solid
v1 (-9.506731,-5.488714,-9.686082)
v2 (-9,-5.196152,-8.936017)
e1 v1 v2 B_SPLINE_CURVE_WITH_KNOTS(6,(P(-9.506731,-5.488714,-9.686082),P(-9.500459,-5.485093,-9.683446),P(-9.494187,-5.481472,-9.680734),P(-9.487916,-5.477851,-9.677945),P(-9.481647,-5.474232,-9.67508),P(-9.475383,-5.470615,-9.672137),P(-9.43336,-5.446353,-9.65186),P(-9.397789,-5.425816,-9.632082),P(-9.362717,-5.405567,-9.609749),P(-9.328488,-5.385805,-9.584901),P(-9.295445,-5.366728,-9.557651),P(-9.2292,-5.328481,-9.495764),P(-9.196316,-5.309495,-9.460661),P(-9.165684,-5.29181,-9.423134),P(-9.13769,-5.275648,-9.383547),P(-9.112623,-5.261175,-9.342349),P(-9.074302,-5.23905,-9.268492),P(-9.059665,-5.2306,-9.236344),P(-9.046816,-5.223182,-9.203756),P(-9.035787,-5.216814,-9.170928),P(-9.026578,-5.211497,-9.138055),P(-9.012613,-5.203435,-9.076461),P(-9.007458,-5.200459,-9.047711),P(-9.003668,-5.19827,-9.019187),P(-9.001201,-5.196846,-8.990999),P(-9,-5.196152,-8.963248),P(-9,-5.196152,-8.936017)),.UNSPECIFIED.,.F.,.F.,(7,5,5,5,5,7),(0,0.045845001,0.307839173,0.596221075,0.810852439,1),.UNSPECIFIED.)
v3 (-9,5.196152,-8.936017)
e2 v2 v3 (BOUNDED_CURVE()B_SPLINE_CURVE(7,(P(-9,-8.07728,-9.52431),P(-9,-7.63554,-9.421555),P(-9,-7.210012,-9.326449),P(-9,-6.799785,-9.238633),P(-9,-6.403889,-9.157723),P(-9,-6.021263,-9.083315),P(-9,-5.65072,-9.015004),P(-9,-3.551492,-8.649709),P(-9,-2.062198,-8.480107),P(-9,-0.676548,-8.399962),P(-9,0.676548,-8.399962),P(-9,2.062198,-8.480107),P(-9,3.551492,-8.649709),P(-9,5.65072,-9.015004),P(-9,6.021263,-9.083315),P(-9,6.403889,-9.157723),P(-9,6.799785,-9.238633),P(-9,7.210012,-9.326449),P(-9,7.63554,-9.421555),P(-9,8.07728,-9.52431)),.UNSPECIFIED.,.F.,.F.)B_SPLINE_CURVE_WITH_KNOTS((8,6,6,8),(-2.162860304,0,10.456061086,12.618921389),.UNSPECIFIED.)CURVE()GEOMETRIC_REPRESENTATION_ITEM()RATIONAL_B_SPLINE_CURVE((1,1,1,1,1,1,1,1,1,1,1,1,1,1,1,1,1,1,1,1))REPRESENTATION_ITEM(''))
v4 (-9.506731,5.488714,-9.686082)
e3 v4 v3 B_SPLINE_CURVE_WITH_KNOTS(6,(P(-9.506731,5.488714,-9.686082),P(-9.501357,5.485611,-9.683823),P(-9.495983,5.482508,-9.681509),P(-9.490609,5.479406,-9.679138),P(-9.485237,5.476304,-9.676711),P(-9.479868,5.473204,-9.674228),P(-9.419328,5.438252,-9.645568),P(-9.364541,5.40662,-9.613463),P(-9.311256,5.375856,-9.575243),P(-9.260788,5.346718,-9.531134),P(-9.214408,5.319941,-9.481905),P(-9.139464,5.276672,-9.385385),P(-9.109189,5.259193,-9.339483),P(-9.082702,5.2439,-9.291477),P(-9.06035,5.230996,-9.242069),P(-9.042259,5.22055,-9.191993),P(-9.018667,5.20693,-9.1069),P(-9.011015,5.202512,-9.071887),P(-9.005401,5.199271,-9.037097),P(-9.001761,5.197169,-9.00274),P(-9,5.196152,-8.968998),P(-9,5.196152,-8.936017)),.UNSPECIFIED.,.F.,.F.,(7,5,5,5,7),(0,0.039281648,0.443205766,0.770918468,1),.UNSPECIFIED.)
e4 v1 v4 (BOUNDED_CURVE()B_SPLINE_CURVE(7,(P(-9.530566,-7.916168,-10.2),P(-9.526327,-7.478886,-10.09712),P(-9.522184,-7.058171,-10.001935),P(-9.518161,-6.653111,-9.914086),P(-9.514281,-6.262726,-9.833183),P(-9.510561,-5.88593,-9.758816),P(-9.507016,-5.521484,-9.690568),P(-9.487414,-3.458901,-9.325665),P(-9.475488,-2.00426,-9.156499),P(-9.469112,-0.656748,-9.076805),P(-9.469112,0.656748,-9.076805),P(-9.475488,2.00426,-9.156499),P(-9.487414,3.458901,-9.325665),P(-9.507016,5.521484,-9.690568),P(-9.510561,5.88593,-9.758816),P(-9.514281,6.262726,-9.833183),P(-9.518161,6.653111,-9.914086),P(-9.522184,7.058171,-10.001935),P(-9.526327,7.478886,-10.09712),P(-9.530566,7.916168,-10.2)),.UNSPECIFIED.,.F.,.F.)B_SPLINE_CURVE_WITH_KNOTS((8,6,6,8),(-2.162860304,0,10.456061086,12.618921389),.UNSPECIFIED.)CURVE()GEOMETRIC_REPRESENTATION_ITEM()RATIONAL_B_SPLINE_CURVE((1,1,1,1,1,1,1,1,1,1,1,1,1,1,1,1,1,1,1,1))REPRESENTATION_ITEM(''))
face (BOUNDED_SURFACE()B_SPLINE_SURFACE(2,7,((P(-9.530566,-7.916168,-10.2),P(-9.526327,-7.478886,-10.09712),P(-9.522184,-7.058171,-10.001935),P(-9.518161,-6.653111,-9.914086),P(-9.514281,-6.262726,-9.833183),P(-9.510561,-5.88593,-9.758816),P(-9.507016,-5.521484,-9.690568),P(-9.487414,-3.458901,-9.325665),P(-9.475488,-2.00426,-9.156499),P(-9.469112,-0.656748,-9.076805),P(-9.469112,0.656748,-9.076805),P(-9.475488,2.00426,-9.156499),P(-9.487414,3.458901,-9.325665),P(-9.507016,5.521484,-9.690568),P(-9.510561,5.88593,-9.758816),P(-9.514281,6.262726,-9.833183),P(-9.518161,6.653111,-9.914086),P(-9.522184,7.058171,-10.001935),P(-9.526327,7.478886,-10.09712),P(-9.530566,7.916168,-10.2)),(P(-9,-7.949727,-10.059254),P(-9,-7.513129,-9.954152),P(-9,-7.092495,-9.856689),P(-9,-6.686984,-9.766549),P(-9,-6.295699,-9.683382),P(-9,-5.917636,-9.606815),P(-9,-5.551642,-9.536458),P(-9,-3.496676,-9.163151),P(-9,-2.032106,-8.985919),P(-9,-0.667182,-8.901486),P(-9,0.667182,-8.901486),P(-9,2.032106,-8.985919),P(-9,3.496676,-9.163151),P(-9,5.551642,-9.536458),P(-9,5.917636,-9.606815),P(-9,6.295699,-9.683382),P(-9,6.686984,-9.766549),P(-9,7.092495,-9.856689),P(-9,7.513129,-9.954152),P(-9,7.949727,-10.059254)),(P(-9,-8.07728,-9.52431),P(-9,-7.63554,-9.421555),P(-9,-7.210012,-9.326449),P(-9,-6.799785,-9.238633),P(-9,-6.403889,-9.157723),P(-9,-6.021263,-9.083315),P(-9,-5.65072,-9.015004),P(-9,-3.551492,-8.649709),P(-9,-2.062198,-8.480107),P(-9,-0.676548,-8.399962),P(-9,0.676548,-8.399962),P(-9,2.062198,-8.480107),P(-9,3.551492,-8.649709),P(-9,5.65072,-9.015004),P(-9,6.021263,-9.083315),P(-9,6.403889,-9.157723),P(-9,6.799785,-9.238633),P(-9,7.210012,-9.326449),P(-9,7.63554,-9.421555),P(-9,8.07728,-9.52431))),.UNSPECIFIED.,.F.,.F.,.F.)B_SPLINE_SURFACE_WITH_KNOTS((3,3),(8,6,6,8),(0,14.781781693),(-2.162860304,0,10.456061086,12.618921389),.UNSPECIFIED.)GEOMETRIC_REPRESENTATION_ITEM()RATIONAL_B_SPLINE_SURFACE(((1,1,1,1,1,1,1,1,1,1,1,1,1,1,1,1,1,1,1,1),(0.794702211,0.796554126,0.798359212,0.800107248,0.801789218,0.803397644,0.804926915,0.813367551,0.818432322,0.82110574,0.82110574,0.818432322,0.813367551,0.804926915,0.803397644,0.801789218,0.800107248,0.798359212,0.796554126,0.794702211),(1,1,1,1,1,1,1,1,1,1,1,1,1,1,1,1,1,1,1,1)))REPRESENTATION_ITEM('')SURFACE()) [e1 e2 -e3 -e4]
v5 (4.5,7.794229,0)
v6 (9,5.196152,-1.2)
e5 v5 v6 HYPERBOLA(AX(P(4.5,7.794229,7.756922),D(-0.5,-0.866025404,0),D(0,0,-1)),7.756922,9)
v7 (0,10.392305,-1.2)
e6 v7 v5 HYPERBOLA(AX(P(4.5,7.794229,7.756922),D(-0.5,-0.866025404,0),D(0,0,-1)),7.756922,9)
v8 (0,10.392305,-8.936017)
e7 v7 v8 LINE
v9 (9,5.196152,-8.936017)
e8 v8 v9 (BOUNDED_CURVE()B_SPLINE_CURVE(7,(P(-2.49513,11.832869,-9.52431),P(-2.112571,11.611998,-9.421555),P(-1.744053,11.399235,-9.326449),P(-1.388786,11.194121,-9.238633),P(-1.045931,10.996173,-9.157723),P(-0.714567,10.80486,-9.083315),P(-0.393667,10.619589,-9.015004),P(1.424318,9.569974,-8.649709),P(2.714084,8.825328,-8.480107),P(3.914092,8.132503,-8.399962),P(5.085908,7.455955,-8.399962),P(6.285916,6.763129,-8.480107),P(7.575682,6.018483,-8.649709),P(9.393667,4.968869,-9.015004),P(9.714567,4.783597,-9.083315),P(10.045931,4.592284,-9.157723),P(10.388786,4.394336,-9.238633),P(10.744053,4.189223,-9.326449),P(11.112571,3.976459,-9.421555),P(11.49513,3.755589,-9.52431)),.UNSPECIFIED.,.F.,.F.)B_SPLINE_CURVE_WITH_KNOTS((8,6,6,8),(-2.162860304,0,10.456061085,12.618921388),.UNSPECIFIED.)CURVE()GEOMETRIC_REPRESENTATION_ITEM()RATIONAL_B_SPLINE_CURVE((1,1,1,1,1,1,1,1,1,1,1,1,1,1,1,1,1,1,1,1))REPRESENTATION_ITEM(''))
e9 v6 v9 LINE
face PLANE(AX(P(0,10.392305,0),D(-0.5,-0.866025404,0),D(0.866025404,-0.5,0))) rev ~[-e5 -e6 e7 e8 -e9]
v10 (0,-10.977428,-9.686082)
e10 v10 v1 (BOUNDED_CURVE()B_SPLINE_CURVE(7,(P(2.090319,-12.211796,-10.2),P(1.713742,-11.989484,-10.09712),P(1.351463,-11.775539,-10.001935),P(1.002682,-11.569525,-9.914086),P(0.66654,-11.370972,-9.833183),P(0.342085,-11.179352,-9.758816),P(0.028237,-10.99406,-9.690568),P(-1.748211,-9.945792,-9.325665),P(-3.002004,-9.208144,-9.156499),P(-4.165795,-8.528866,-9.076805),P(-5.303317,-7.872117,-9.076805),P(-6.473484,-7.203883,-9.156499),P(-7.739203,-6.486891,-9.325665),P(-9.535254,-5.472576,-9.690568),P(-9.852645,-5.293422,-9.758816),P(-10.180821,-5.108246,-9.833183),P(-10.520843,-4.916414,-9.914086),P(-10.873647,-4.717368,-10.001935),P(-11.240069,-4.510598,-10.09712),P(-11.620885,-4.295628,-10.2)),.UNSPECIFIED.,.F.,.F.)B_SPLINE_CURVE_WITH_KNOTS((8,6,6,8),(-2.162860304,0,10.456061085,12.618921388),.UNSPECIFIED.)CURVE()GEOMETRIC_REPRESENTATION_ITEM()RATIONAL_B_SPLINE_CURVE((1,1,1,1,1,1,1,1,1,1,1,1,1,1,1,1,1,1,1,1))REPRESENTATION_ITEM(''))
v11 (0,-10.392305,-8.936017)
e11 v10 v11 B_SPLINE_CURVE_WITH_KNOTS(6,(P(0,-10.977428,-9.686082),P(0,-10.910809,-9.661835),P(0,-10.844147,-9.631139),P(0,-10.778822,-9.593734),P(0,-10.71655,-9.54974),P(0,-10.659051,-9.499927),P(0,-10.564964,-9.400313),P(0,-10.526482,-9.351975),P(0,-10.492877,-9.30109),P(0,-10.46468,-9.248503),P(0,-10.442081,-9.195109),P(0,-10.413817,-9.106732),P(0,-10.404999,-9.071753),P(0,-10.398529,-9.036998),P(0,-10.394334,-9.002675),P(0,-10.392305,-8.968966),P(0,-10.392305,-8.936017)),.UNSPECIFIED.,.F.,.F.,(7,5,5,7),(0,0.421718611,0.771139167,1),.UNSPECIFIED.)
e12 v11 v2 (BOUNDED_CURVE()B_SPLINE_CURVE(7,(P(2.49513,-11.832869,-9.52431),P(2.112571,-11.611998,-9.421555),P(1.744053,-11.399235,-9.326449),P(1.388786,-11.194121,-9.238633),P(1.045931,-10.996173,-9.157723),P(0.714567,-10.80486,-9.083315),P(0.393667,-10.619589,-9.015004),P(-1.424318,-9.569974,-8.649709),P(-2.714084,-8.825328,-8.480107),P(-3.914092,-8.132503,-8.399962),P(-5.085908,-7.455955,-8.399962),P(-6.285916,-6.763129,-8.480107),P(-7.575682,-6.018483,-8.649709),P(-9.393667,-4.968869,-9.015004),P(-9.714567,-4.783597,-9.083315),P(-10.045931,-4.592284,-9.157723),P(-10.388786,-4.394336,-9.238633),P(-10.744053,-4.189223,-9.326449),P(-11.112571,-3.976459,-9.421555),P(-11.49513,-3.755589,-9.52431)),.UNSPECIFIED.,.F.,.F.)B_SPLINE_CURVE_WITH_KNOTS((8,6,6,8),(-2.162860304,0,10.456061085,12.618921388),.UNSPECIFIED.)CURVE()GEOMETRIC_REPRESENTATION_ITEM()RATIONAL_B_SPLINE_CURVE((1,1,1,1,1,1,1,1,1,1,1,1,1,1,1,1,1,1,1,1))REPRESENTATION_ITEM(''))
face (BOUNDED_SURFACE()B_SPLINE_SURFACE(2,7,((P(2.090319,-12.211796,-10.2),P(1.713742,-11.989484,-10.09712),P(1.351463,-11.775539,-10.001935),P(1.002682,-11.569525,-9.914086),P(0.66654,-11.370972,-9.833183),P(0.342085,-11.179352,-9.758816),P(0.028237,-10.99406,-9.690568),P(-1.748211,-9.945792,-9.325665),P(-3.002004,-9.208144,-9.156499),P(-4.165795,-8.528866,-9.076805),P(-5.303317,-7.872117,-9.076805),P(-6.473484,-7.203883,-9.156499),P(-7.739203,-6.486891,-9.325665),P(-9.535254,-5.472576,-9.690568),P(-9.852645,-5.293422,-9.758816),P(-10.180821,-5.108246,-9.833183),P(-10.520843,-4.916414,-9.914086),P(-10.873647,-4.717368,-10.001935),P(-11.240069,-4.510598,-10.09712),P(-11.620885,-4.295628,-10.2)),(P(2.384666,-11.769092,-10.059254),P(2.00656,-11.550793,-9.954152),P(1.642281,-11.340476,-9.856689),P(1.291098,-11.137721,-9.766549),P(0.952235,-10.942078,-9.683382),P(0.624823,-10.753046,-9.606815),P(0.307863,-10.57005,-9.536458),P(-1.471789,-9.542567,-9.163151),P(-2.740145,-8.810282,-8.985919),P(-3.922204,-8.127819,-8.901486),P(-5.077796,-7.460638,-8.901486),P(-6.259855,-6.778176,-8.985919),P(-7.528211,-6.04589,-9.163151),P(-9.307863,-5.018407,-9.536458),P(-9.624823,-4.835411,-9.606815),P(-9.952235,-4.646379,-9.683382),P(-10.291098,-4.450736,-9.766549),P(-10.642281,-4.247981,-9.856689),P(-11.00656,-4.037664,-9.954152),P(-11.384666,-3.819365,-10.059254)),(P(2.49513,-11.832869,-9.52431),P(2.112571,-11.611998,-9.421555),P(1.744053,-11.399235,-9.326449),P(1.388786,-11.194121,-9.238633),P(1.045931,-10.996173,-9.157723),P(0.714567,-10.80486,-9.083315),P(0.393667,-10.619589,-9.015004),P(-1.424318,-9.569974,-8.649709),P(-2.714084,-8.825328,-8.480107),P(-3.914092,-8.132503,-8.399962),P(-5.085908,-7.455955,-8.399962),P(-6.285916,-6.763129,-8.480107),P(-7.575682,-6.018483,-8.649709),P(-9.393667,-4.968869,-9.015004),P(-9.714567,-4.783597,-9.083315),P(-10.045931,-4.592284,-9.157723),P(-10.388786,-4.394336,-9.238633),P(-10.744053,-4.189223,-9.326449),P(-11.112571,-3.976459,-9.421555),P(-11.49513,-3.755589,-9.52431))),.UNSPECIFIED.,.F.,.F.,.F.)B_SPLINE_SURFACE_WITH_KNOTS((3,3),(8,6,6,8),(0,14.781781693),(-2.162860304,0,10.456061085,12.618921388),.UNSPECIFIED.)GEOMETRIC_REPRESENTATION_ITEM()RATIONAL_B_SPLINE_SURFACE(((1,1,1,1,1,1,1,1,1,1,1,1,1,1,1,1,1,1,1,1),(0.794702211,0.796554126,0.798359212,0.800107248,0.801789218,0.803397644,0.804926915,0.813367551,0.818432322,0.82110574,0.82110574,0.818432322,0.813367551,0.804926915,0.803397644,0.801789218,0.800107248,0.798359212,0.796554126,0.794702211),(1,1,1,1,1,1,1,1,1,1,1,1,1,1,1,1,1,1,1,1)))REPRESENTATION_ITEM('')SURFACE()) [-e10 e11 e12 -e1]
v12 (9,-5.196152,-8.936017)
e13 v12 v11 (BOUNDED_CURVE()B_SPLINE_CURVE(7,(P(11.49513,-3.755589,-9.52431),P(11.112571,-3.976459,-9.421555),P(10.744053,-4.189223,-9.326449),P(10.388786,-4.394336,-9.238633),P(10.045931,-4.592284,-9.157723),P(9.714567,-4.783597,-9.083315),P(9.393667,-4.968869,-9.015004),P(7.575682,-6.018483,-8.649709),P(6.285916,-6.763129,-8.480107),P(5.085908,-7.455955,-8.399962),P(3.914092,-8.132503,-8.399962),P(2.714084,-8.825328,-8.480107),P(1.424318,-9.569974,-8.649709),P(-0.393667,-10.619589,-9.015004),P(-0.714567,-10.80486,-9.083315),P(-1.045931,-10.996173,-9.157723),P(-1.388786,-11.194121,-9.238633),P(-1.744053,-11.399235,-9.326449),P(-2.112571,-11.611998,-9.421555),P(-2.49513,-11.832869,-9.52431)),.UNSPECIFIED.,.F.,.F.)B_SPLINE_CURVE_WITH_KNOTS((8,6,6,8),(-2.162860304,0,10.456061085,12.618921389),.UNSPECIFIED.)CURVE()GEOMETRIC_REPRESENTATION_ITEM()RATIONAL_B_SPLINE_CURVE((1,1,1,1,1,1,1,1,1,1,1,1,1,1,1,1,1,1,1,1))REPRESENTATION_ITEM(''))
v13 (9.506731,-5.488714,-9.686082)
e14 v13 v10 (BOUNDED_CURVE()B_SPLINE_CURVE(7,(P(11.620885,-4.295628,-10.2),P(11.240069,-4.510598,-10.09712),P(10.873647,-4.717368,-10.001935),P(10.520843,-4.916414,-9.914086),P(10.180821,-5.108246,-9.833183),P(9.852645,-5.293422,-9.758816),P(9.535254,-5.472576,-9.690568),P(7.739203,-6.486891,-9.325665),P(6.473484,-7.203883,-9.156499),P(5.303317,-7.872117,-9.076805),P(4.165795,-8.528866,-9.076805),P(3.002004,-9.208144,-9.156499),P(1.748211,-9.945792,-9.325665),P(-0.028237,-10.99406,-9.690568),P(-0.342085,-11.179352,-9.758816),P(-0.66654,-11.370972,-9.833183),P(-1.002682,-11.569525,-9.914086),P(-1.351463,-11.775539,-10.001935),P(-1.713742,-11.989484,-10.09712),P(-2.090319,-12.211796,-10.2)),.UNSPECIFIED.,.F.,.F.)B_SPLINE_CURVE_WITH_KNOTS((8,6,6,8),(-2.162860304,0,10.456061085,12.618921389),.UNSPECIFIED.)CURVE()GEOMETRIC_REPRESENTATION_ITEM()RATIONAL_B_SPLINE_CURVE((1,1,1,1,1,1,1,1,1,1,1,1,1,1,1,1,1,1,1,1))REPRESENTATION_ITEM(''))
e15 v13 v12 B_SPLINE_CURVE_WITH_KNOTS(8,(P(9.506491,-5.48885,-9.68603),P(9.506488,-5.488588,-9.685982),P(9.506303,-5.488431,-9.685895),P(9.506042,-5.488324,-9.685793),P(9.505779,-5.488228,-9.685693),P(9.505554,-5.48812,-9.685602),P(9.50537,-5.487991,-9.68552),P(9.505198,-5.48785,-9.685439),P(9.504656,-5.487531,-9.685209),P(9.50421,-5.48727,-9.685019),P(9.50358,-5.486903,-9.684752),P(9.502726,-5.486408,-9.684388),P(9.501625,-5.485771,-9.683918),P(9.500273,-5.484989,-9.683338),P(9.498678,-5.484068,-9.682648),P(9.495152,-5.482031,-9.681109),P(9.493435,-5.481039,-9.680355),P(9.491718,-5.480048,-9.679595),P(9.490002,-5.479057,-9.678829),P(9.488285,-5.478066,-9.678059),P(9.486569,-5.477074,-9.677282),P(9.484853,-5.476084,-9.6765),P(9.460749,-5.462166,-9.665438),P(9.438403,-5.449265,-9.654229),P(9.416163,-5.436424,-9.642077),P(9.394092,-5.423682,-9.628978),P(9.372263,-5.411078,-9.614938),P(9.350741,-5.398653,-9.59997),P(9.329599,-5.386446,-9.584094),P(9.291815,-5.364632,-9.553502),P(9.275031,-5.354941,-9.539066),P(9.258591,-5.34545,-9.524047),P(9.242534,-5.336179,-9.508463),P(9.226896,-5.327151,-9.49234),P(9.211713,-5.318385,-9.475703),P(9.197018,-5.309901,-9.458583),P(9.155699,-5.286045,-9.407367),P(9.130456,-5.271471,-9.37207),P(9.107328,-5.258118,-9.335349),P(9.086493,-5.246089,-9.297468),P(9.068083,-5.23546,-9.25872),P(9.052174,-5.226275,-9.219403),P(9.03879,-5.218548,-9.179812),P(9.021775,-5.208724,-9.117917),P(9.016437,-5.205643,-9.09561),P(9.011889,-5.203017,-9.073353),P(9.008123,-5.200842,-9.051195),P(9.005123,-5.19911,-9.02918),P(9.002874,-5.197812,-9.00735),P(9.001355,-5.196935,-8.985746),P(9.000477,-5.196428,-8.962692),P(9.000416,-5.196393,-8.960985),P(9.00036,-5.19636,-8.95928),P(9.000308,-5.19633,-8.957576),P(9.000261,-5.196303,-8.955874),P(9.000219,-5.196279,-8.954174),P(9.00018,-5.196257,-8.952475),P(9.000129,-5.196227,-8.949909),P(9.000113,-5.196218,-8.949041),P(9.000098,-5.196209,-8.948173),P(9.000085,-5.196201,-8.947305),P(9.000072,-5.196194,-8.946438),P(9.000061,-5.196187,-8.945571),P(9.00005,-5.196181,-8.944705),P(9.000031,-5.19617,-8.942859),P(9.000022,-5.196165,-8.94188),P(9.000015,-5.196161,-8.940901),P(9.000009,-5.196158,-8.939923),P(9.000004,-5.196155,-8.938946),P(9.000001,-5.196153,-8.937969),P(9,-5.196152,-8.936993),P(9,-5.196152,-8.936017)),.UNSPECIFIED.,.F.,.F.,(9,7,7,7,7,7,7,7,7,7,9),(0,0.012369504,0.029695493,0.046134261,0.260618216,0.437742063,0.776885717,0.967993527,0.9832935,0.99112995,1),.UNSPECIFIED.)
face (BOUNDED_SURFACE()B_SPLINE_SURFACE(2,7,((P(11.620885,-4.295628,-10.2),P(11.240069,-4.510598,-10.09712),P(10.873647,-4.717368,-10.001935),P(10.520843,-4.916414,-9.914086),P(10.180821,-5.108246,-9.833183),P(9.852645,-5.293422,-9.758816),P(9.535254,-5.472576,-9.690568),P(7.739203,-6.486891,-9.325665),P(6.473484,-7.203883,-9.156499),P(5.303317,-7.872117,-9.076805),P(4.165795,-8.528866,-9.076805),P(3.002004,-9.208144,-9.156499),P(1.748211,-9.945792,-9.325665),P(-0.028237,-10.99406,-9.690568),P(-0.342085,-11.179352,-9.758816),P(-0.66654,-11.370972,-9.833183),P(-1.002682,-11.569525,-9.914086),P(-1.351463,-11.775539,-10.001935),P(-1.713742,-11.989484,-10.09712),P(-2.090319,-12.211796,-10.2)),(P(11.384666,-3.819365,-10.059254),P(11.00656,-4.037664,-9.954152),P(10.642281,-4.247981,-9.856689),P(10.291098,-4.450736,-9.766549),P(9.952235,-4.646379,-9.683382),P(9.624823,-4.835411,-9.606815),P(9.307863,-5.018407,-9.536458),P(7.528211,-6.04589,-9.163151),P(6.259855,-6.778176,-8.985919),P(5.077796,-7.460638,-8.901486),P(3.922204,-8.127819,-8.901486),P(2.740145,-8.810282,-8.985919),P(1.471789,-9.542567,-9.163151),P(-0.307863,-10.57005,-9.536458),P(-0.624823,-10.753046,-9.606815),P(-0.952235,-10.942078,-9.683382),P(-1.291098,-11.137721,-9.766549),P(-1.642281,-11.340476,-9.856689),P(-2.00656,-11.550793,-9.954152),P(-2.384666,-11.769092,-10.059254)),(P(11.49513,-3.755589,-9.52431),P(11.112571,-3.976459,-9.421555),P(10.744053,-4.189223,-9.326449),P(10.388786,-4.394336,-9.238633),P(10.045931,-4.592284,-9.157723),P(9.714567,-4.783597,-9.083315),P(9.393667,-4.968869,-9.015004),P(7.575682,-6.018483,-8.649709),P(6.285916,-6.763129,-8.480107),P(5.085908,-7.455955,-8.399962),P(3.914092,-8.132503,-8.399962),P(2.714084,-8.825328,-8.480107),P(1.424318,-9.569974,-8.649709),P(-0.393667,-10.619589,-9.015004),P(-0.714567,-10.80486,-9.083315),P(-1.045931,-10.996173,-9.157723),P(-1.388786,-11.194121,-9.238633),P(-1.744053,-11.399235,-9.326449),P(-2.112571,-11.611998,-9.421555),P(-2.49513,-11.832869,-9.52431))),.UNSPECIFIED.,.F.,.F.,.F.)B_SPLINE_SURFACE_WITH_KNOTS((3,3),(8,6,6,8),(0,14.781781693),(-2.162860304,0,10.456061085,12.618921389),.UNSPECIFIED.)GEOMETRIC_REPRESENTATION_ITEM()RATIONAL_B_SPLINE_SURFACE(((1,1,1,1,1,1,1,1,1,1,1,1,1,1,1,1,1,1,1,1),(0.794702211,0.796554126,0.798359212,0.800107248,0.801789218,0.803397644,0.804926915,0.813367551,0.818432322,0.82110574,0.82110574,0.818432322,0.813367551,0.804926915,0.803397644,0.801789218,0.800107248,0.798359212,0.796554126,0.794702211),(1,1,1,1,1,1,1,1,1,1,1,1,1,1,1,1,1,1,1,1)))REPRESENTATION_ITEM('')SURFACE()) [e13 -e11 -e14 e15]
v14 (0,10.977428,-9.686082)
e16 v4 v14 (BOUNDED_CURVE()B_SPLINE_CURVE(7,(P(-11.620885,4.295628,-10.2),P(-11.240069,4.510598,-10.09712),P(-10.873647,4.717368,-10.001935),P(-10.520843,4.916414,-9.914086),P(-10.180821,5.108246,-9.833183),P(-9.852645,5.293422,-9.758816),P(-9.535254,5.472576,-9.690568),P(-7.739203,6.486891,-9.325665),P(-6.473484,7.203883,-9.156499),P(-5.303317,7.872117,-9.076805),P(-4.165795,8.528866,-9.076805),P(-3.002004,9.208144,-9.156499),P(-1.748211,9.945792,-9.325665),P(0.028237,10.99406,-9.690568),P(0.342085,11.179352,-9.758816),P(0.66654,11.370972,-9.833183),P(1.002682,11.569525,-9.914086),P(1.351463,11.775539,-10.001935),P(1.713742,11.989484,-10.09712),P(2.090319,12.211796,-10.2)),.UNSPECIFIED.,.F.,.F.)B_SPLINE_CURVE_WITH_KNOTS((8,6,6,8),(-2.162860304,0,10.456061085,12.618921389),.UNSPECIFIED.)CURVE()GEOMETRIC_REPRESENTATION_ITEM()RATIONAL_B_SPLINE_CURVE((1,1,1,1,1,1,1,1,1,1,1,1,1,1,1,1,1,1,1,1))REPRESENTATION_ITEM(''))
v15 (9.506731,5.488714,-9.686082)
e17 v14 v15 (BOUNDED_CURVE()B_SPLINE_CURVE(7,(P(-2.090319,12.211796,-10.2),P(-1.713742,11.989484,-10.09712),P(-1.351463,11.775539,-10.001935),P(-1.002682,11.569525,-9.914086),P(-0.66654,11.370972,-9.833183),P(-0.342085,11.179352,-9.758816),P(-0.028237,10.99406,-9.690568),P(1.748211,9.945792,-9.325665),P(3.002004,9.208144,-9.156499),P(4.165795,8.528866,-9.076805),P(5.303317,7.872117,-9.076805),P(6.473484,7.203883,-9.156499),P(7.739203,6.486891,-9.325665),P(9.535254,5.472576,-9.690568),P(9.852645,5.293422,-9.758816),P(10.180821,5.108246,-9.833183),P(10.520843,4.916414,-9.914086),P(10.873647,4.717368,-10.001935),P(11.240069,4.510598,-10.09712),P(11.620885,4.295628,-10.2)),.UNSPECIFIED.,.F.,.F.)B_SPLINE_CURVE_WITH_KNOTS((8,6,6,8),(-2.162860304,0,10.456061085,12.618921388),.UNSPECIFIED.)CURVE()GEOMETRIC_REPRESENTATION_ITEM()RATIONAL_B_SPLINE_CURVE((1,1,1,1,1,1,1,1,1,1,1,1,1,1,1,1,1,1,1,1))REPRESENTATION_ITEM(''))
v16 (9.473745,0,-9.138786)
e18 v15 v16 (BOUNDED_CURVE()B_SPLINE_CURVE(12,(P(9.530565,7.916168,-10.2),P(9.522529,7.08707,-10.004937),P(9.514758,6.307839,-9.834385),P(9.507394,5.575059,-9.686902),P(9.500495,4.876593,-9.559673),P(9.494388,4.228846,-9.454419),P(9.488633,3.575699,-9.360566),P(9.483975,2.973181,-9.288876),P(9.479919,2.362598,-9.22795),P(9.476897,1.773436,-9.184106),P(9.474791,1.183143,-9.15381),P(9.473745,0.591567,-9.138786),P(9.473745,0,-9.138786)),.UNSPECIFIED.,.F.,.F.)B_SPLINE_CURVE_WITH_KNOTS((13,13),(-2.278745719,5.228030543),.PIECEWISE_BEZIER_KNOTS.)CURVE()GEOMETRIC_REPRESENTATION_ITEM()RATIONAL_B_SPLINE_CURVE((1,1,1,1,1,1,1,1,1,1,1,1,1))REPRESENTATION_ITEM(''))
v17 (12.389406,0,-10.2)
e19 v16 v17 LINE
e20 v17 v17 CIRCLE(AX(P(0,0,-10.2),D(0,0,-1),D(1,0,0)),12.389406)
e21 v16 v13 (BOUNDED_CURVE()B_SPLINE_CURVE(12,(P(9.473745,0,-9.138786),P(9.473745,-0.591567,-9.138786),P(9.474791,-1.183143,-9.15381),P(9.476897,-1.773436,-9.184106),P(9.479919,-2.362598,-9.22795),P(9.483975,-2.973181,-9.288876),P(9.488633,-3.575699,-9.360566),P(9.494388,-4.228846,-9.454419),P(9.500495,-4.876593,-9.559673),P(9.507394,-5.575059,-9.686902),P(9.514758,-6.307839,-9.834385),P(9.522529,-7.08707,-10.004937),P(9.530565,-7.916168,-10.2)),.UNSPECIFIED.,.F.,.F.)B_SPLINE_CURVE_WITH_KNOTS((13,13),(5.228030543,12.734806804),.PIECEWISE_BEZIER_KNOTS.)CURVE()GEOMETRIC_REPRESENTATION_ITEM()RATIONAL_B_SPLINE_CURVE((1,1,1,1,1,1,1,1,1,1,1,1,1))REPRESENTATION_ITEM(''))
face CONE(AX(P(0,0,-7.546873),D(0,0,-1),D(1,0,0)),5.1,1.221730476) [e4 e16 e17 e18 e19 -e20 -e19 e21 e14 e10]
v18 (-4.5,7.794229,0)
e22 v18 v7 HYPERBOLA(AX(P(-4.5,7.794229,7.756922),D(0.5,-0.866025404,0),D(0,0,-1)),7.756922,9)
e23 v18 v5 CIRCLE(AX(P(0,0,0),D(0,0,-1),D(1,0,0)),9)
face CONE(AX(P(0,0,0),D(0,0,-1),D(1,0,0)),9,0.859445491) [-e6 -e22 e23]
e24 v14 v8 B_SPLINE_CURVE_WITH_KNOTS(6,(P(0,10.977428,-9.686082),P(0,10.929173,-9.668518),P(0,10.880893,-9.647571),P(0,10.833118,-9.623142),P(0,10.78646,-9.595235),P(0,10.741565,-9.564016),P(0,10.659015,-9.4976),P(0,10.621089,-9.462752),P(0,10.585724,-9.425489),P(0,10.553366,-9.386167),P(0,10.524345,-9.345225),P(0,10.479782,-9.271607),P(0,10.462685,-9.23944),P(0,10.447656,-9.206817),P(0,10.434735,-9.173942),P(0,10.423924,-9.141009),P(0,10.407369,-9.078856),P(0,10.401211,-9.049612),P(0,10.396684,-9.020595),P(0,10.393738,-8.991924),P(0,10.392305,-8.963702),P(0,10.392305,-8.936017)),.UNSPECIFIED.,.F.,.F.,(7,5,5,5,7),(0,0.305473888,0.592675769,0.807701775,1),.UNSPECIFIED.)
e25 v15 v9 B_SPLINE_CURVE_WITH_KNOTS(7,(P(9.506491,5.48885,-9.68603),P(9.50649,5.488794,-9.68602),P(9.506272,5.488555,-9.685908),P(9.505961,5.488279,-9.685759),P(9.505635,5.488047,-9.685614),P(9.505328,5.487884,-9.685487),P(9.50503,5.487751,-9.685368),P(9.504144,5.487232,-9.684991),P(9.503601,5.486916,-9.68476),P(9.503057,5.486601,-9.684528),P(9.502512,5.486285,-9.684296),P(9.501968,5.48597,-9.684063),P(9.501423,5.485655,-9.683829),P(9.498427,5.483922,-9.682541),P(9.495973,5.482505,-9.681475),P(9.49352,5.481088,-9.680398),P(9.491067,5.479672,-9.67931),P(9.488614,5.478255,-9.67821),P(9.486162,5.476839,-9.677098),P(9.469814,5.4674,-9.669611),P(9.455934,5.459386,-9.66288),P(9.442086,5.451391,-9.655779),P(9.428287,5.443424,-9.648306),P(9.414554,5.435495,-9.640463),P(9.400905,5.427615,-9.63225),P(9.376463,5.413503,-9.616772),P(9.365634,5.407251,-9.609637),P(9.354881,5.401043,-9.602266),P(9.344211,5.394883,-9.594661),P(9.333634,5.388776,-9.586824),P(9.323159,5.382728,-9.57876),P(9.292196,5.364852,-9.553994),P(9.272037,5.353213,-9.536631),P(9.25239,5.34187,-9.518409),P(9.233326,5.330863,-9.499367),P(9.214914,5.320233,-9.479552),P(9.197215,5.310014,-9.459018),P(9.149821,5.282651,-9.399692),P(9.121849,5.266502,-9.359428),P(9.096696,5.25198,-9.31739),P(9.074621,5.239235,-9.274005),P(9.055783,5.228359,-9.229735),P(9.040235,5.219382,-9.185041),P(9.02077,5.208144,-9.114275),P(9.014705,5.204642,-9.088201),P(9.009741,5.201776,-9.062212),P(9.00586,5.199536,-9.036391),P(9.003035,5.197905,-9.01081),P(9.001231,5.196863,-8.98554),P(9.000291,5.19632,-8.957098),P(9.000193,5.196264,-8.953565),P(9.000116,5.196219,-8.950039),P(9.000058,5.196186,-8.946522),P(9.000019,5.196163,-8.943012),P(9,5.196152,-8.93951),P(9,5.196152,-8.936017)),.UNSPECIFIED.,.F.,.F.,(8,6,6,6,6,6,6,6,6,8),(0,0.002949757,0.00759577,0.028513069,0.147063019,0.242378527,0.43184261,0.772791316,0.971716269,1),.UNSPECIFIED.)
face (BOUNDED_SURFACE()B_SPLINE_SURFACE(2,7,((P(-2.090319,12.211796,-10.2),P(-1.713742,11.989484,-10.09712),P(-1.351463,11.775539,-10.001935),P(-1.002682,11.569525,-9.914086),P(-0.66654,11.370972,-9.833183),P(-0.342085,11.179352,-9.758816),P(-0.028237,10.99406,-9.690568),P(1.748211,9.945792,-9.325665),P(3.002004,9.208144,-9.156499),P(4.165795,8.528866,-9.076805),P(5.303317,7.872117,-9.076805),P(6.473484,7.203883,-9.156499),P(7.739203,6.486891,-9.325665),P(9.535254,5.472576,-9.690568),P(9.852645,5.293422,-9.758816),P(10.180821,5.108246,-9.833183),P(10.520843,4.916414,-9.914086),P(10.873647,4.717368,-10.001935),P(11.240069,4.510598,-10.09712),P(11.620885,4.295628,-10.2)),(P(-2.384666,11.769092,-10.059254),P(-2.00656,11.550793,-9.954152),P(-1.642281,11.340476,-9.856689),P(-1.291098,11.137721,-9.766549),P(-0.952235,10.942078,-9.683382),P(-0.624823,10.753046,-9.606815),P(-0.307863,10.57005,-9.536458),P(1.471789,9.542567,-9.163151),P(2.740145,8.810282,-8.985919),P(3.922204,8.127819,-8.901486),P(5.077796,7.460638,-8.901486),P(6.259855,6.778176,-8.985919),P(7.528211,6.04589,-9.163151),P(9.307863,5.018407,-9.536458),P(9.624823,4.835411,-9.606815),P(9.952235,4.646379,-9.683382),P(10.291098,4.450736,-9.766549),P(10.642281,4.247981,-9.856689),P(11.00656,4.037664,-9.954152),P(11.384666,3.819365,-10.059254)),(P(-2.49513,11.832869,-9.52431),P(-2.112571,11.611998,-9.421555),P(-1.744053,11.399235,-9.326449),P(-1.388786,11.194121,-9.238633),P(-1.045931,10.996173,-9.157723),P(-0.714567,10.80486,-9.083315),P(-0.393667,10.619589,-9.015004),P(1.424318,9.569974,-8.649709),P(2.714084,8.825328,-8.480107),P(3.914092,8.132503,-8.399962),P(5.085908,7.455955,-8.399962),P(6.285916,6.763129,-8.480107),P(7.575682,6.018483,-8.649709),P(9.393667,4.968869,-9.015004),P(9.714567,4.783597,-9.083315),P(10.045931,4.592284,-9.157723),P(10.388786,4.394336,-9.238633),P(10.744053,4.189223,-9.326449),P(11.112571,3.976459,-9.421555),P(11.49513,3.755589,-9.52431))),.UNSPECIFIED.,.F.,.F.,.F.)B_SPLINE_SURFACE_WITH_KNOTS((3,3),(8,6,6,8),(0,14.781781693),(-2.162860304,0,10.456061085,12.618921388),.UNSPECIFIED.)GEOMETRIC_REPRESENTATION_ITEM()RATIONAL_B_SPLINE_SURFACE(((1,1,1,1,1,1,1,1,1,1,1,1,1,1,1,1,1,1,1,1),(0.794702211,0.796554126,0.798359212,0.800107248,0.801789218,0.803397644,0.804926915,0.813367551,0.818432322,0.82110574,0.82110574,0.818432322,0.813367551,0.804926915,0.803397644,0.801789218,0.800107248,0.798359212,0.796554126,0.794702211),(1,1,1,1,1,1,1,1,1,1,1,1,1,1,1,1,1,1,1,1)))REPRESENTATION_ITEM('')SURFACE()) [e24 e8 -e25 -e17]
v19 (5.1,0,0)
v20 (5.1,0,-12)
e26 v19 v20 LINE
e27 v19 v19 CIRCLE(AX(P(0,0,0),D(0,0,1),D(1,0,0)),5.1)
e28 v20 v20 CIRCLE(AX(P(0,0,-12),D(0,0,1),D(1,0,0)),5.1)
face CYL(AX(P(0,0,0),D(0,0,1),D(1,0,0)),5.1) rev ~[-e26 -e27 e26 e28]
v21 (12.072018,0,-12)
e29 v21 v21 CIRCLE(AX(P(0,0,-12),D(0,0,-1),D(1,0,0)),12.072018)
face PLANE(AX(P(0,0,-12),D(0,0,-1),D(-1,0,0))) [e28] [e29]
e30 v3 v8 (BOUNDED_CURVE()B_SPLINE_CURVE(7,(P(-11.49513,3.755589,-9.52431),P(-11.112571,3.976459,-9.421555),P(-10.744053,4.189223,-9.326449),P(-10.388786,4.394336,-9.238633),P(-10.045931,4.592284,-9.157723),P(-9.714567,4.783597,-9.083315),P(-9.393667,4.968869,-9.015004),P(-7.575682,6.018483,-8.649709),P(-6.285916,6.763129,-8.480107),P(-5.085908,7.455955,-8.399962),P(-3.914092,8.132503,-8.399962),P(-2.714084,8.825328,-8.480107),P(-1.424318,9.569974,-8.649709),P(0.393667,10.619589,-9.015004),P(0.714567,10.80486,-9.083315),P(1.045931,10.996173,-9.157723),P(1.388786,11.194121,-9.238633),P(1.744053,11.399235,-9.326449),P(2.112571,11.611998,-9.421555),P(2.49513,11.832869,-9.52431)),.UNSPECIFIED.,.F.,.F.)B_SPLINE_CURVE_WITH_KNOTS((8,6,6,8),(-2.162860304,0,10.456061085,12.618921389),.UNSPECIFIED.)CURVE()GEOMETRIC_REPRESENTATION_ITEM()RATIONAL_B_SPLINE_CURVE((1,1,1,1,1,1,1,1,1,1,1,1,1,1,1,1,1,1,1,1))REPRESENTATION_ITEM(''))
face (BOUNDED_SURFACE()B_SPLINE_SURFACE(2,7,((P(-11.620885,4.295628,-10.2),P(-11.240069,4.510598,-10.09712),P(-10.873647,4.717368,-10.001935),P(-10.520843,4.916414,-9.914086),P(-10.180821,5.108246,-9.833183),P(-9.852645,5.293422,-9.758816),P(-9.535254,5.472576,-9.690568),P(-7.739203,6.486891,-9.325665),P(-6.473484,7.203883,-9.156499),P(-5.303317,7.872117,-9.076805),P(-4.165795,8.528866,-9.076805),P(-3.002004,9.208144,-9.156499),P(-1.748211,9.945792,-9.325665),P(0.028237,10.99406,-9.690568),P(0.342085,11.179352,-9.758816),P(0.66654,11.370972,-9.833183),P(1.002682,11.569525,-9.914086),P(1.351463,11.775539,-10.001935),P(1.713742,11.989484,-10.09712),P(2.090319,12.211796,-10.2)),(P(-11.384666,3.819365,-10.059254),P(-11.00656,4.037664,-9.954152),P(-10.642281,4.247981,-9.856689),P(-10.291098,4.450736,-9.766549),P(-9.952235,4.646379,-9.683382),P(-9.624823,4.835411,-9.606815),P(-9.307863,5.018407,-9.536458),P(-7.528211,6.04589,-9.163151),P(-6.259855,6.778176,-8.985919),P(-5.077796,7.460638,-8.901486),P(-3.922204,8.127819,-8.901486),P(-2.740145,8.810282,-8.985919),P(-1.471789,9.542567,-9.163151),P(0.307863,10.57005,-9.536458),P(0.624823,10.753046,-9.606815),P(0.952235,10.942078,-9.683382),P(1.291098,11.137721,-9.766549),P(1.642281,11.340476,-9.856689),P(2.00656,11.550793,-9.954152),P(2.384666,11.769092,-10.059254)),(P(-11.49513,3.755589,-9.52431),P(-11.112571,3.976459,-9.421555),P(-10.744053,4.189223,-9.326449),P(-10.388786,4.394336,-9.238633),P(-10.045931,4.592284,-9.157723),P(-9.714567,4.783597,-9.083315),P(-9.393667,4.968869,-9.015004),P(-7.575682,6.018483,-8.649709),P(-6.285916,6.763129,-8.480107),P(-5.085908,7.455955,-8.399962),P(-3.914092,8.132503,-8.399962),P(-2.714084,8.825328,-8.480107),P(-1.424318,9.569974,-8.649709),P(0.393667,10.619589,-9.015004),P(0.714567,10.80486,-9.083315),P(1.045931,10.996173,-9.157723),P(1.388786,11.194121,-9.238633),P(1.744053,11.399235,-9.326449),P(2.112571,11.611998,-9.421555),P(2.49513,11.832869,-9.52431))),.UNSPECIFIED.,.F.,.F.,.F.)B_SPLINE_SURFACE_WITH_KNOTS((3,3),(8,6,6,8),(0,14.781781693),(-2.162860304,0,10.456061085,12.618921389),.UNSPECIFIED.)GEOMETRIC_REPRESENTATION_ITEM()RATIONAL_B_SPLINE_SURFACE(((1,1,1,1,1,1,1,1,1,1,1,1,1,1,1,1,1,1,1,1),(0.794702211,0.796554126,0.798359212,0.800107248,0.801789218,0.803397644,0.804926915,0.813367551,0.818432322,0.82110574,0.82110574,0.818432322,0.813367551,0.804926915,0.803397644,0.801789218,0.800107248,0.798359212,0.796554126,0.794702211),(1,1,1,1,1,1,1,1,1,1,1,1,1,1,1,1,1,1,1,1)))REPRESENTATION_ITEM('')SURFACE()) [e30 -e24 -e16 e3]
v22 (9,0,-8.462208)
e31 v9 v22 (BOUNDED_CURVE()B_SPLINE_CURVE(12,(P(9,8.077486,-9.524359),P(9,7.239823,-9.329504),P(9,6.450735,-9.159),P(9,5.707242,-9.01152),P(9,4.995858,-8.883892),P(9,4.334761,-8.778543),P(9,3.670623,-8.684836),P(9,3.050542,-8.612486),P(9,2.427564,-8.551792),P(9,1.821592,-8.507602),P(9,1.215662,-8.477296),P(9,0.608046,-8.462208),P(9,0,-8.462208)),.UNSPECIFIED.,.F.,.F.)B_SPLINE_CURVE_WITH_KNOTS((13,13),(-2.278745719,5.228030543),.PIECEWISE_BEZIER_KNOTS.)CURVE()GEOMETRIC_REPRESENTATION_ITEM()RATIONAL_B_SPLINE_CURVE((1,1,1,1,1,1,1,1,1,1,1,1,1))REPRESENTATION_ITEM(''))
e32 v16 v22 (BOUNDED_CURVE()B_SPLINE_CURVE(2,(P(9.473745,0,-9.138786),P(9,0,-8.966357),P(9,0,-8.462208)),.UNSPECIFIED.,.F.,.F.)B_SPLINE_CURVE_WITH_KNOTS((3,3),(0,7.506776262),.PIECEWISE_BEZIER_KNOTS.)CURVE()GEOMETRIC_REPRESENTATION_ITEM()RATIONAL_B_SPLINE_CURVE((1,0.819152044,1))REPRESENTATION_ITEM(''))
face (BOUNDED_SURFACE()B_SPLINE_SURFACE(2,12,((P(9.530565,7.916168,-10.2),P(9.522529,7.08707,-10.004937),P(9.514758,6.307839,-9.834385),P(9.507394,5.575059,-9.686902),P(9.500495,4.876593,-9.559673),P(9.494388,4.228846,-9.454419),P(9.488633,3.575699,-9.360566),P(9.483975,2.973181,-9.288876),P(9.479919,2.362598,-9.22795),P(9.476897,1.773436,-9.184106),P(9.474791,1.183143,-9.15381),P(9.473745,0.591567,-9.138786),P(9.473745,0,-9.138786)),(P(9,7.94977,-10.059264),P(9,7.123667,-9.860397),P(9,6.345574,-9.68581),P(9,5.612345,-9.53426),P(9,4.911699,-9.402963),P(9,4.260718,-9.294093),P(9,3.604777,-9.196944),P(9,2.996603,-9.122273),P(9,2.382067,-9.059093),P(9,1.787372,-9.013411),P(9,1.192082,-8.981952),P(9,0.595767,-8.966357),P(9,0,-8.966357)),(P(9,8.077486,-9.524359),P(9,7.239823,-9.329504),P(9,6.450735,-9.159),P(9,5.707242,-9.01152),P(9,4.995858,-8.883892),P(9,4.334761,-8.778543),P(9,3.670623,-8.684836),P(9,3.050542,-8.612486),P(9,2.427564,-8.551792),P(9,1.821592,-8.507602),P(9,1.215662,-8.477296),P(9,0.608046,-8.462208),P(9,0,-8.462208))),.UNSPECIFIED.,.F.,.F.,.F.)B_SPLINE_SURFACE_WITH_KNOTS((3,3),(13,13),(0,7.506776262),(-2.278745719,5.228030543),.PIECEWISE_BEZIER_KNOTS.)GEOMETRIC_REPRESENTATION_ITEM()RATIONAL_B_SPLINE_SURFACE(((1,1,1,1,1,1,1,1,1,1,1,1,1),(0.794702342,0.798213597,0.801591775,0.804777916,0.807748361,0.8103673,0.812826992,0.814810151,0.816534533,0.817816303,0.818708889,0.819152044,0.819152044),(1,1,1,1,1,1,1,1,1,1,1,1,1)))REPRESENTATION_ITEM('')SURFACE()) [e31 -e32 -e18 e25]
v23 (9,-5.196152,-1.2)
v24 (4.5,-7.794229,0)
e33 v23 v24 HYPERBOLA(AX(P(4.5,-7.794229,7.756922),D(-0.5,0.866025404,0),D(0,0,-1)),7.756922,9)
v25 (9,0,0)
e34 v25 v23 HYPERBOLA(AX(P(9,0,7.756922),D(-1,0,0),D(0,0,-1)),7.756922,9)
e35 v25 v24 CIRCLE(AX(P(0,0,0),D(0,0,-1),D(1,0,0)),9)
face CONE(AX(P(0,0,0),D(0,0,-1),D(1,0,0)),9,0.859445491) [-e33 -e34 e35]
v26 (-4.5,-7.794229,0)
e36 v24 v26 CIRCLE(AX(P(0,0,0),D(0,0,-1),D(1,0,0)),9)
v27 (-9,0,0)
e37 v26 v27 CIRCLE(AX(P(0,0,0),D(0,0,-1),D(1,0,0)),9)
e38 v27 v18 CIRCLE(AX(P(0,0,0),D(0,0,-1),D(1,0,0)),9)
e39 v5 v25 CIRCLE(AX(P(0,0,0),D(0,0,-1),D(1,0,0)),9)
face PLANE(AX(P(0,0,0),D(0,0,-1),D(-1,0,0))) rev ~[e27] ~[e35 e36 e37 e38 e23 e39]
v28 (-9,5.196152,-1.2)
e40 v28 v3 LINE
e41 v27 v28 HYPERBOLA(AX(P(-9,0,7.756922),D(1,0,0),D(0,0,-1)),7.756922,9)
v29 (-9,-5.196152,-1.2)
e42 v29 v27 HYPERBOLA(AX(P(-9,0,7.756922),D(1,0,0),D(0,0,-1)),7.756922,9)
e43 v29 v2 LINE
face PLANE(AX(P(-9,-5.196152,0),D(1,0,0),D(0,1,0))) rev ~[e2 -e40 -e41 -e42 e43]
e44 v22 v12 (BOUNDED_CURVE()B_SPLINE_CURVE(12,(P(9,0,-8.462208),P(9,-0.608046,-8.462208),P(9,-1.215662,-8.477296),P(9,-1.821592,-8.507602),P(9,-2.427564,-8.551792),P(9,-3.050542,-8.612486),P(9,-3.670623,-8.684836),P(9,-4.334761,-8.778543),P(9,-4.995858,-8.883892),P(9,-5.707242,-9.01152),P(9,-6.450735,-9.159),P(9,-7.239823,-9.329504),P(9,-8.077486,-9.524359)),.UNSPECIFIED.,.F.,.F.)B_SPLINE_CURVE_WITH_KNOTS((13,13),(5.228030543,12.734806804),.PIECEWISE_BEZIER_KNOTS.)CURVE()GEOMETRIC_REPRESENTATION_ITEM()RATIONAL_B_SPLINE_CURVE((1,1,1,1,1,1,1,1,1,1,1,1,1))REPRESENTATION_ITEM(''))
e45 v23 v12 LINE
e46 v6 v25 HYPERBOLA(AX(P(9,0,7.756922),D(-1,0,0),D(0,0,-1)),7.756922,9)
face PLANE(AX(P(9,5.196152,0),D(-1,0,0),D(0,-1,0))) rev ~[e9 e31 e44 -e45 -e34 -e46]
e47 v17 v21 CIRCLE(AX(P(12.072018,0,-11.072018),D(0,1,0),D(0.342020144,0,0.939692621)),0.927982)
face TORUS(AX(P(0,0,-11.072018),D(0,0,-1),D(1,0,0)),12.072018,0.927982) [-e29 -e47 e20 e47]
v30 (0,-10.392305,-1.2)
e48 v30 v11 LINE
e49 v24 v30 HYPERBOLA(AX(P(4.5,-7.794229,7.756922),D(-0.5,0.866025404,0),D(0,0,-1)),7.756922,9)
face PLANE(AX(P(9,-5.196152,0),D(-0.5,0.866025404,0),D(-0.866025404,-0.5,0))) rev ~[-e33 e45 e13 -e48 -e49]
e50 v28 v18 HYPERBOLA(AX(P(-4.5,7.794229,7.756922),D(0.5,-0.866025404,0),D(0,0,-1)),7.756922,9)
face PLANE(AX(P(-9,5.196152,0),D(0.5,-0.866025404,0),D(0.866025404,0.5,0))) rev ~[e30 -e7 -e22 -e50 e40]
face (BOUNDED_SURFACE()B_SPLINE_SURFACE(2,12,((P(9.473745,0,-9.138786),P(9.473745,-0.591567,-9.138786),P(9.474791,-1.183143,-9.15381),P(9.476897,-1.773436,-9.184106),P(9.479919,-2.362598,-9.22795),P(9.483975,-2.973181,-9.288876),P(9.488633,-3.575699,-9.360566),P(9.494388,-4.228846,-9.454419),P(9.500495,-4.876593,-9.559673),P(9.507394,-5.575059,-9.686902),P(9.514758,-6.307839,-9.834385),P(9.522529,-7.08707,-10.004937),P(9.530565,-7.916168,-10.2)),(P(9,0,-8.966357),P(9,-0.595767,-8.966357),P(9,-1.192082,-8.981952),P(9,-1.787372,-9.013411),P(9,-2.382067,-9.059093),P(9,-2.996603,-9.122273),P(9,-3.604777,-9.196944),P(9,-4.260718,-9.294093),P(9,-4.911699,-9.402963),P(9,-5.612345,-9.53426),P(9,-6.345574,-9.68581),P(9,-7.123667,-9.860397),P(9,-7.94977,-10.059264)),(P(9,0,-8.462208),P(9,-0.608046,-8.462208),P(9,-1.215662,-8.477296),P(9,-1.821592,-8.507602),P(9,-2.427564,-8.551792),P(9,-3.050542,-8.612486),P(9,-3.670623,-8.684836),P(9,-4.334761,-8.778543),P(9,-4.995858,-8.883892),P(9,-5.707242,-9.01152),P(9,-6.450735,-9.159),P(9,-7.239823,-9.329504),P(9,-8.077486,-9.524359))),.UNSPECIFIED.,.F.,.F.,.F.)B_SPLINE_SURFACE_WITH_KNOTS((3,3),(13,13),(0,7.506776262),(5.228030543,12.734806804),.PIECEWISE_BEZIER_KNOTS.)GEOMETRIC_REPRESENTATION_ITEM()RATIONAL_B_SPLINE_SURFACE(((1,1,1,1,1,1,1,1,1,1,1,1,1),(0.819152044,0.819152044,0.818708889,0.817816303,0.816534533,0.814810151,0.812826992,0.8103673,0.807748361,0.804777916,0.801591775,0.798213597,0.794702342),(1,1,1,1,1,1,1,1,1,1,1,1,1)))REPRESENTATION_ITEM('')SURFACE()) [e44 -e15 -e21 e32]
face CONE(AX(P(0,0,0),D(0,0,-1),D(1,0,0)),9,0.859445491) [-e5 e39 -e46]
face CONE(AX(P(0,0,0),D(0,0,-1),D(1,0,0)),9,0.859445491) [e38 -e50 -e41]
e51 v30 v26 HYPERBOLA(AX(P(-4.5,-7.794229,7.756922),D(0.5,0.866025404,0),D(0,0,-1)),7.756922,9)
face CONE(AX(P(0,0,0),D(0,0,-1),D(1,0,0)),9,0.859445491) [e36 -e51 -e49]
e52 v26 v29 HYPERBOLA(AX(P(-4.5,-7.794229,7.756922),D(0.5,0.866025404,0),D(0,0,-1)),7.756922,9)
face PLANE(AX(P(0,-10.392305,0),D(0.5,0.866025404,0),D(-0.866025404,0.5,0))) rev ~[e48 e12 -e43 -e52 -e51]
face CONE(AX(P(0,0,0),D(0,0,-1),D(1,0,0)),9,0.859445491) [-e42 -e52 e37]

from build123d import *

# Parameters (mm, degrees)
BASENUTSKE_R   = 5.1
BASENUT_DEPTH  = 12
FLANGEFILLET_R = 0.72


with BuildPart() as part:
    # BaseNutSke → BaseNut (new body)
    with BuildSketch(Plane.XY):
        Polygon((9, 5.196152423), (9, -5.196152423), (0, -10.392304845), (-9, -5.196152423), (-9, 5.196152423), (0, 10.392304845), align=None)
        Circle(BASENUTSKE_R, mode=Mode.SUBTRACT)
    extrude(amount=-BASENUT_DEPTH)

    # Sketch6 → Flange (revolve)
    with BuildSketch(Plane(origin=(0, 0, 0), x_dir=(0, 0, -1), z_dir=(1, 0, 0)), mode=Mode.PRIVATE) as flange_sk:
        with BuildLine():
            Line((7.546873015, 5.1), (10.2, 12.389406482))
            ThreePointArc((10.2, 12.389406482), (11.233160314, 12.985901867), (12, 12.072017916))
            Line((12, 12.072017916), (12, 5.1))
            Line((12, 5.1), (7.546873015, 5.1))
        make_face()
    revolve(flange_sk.sketch.rotate(Axis((0, 0, 0), (0, 0, -1)), 90), axis=Axis((0, 0, 0), (0, 0, -1)))

    # Sketch3 → Double-Chamfer (revolve, cut)
    with BuildSketch(Plane(origin=(0, 0, 0), x_dir=(0, 0, -1), z_dir=(1, 0, 0)), mode=Mode.PRIVATE) as double_chamfer_sk:
        Polygon((1.2, 23.092304845), (-12.7, 23.092304845), (-12.7, 9), (0, 9), (1.2, 10.392304845), align=None)
    revolve(double_chamfer_sk.sketch.rotate(Axis((0, 0, 0), (0, 0, -1)), 90), axis=Axis((0, 0, 0), (0, 0, -1)), mode=Mode.SUBTRACT)

    # FlangeFillet
    flangefillet_edges = [part.edges().sort_by_distance(p)[0] for p in [
        (9, -2.609409864, -9.1012613),
        (9, 2.609409864, -9.1012613),
        (4.5, -7.794228634, -8.966356929),
        (4.5, 7.794228634, -8.966356929),
        (-4.5, 7.794228634, -8.966356929),
        (-9, 0, -8.966356929),
        (-4.5, -7.794228634, -8.966356929),
    ]]
    fillet(flangefillet_edges, radius=FLANGEFILLET_R)


solid = part.part
